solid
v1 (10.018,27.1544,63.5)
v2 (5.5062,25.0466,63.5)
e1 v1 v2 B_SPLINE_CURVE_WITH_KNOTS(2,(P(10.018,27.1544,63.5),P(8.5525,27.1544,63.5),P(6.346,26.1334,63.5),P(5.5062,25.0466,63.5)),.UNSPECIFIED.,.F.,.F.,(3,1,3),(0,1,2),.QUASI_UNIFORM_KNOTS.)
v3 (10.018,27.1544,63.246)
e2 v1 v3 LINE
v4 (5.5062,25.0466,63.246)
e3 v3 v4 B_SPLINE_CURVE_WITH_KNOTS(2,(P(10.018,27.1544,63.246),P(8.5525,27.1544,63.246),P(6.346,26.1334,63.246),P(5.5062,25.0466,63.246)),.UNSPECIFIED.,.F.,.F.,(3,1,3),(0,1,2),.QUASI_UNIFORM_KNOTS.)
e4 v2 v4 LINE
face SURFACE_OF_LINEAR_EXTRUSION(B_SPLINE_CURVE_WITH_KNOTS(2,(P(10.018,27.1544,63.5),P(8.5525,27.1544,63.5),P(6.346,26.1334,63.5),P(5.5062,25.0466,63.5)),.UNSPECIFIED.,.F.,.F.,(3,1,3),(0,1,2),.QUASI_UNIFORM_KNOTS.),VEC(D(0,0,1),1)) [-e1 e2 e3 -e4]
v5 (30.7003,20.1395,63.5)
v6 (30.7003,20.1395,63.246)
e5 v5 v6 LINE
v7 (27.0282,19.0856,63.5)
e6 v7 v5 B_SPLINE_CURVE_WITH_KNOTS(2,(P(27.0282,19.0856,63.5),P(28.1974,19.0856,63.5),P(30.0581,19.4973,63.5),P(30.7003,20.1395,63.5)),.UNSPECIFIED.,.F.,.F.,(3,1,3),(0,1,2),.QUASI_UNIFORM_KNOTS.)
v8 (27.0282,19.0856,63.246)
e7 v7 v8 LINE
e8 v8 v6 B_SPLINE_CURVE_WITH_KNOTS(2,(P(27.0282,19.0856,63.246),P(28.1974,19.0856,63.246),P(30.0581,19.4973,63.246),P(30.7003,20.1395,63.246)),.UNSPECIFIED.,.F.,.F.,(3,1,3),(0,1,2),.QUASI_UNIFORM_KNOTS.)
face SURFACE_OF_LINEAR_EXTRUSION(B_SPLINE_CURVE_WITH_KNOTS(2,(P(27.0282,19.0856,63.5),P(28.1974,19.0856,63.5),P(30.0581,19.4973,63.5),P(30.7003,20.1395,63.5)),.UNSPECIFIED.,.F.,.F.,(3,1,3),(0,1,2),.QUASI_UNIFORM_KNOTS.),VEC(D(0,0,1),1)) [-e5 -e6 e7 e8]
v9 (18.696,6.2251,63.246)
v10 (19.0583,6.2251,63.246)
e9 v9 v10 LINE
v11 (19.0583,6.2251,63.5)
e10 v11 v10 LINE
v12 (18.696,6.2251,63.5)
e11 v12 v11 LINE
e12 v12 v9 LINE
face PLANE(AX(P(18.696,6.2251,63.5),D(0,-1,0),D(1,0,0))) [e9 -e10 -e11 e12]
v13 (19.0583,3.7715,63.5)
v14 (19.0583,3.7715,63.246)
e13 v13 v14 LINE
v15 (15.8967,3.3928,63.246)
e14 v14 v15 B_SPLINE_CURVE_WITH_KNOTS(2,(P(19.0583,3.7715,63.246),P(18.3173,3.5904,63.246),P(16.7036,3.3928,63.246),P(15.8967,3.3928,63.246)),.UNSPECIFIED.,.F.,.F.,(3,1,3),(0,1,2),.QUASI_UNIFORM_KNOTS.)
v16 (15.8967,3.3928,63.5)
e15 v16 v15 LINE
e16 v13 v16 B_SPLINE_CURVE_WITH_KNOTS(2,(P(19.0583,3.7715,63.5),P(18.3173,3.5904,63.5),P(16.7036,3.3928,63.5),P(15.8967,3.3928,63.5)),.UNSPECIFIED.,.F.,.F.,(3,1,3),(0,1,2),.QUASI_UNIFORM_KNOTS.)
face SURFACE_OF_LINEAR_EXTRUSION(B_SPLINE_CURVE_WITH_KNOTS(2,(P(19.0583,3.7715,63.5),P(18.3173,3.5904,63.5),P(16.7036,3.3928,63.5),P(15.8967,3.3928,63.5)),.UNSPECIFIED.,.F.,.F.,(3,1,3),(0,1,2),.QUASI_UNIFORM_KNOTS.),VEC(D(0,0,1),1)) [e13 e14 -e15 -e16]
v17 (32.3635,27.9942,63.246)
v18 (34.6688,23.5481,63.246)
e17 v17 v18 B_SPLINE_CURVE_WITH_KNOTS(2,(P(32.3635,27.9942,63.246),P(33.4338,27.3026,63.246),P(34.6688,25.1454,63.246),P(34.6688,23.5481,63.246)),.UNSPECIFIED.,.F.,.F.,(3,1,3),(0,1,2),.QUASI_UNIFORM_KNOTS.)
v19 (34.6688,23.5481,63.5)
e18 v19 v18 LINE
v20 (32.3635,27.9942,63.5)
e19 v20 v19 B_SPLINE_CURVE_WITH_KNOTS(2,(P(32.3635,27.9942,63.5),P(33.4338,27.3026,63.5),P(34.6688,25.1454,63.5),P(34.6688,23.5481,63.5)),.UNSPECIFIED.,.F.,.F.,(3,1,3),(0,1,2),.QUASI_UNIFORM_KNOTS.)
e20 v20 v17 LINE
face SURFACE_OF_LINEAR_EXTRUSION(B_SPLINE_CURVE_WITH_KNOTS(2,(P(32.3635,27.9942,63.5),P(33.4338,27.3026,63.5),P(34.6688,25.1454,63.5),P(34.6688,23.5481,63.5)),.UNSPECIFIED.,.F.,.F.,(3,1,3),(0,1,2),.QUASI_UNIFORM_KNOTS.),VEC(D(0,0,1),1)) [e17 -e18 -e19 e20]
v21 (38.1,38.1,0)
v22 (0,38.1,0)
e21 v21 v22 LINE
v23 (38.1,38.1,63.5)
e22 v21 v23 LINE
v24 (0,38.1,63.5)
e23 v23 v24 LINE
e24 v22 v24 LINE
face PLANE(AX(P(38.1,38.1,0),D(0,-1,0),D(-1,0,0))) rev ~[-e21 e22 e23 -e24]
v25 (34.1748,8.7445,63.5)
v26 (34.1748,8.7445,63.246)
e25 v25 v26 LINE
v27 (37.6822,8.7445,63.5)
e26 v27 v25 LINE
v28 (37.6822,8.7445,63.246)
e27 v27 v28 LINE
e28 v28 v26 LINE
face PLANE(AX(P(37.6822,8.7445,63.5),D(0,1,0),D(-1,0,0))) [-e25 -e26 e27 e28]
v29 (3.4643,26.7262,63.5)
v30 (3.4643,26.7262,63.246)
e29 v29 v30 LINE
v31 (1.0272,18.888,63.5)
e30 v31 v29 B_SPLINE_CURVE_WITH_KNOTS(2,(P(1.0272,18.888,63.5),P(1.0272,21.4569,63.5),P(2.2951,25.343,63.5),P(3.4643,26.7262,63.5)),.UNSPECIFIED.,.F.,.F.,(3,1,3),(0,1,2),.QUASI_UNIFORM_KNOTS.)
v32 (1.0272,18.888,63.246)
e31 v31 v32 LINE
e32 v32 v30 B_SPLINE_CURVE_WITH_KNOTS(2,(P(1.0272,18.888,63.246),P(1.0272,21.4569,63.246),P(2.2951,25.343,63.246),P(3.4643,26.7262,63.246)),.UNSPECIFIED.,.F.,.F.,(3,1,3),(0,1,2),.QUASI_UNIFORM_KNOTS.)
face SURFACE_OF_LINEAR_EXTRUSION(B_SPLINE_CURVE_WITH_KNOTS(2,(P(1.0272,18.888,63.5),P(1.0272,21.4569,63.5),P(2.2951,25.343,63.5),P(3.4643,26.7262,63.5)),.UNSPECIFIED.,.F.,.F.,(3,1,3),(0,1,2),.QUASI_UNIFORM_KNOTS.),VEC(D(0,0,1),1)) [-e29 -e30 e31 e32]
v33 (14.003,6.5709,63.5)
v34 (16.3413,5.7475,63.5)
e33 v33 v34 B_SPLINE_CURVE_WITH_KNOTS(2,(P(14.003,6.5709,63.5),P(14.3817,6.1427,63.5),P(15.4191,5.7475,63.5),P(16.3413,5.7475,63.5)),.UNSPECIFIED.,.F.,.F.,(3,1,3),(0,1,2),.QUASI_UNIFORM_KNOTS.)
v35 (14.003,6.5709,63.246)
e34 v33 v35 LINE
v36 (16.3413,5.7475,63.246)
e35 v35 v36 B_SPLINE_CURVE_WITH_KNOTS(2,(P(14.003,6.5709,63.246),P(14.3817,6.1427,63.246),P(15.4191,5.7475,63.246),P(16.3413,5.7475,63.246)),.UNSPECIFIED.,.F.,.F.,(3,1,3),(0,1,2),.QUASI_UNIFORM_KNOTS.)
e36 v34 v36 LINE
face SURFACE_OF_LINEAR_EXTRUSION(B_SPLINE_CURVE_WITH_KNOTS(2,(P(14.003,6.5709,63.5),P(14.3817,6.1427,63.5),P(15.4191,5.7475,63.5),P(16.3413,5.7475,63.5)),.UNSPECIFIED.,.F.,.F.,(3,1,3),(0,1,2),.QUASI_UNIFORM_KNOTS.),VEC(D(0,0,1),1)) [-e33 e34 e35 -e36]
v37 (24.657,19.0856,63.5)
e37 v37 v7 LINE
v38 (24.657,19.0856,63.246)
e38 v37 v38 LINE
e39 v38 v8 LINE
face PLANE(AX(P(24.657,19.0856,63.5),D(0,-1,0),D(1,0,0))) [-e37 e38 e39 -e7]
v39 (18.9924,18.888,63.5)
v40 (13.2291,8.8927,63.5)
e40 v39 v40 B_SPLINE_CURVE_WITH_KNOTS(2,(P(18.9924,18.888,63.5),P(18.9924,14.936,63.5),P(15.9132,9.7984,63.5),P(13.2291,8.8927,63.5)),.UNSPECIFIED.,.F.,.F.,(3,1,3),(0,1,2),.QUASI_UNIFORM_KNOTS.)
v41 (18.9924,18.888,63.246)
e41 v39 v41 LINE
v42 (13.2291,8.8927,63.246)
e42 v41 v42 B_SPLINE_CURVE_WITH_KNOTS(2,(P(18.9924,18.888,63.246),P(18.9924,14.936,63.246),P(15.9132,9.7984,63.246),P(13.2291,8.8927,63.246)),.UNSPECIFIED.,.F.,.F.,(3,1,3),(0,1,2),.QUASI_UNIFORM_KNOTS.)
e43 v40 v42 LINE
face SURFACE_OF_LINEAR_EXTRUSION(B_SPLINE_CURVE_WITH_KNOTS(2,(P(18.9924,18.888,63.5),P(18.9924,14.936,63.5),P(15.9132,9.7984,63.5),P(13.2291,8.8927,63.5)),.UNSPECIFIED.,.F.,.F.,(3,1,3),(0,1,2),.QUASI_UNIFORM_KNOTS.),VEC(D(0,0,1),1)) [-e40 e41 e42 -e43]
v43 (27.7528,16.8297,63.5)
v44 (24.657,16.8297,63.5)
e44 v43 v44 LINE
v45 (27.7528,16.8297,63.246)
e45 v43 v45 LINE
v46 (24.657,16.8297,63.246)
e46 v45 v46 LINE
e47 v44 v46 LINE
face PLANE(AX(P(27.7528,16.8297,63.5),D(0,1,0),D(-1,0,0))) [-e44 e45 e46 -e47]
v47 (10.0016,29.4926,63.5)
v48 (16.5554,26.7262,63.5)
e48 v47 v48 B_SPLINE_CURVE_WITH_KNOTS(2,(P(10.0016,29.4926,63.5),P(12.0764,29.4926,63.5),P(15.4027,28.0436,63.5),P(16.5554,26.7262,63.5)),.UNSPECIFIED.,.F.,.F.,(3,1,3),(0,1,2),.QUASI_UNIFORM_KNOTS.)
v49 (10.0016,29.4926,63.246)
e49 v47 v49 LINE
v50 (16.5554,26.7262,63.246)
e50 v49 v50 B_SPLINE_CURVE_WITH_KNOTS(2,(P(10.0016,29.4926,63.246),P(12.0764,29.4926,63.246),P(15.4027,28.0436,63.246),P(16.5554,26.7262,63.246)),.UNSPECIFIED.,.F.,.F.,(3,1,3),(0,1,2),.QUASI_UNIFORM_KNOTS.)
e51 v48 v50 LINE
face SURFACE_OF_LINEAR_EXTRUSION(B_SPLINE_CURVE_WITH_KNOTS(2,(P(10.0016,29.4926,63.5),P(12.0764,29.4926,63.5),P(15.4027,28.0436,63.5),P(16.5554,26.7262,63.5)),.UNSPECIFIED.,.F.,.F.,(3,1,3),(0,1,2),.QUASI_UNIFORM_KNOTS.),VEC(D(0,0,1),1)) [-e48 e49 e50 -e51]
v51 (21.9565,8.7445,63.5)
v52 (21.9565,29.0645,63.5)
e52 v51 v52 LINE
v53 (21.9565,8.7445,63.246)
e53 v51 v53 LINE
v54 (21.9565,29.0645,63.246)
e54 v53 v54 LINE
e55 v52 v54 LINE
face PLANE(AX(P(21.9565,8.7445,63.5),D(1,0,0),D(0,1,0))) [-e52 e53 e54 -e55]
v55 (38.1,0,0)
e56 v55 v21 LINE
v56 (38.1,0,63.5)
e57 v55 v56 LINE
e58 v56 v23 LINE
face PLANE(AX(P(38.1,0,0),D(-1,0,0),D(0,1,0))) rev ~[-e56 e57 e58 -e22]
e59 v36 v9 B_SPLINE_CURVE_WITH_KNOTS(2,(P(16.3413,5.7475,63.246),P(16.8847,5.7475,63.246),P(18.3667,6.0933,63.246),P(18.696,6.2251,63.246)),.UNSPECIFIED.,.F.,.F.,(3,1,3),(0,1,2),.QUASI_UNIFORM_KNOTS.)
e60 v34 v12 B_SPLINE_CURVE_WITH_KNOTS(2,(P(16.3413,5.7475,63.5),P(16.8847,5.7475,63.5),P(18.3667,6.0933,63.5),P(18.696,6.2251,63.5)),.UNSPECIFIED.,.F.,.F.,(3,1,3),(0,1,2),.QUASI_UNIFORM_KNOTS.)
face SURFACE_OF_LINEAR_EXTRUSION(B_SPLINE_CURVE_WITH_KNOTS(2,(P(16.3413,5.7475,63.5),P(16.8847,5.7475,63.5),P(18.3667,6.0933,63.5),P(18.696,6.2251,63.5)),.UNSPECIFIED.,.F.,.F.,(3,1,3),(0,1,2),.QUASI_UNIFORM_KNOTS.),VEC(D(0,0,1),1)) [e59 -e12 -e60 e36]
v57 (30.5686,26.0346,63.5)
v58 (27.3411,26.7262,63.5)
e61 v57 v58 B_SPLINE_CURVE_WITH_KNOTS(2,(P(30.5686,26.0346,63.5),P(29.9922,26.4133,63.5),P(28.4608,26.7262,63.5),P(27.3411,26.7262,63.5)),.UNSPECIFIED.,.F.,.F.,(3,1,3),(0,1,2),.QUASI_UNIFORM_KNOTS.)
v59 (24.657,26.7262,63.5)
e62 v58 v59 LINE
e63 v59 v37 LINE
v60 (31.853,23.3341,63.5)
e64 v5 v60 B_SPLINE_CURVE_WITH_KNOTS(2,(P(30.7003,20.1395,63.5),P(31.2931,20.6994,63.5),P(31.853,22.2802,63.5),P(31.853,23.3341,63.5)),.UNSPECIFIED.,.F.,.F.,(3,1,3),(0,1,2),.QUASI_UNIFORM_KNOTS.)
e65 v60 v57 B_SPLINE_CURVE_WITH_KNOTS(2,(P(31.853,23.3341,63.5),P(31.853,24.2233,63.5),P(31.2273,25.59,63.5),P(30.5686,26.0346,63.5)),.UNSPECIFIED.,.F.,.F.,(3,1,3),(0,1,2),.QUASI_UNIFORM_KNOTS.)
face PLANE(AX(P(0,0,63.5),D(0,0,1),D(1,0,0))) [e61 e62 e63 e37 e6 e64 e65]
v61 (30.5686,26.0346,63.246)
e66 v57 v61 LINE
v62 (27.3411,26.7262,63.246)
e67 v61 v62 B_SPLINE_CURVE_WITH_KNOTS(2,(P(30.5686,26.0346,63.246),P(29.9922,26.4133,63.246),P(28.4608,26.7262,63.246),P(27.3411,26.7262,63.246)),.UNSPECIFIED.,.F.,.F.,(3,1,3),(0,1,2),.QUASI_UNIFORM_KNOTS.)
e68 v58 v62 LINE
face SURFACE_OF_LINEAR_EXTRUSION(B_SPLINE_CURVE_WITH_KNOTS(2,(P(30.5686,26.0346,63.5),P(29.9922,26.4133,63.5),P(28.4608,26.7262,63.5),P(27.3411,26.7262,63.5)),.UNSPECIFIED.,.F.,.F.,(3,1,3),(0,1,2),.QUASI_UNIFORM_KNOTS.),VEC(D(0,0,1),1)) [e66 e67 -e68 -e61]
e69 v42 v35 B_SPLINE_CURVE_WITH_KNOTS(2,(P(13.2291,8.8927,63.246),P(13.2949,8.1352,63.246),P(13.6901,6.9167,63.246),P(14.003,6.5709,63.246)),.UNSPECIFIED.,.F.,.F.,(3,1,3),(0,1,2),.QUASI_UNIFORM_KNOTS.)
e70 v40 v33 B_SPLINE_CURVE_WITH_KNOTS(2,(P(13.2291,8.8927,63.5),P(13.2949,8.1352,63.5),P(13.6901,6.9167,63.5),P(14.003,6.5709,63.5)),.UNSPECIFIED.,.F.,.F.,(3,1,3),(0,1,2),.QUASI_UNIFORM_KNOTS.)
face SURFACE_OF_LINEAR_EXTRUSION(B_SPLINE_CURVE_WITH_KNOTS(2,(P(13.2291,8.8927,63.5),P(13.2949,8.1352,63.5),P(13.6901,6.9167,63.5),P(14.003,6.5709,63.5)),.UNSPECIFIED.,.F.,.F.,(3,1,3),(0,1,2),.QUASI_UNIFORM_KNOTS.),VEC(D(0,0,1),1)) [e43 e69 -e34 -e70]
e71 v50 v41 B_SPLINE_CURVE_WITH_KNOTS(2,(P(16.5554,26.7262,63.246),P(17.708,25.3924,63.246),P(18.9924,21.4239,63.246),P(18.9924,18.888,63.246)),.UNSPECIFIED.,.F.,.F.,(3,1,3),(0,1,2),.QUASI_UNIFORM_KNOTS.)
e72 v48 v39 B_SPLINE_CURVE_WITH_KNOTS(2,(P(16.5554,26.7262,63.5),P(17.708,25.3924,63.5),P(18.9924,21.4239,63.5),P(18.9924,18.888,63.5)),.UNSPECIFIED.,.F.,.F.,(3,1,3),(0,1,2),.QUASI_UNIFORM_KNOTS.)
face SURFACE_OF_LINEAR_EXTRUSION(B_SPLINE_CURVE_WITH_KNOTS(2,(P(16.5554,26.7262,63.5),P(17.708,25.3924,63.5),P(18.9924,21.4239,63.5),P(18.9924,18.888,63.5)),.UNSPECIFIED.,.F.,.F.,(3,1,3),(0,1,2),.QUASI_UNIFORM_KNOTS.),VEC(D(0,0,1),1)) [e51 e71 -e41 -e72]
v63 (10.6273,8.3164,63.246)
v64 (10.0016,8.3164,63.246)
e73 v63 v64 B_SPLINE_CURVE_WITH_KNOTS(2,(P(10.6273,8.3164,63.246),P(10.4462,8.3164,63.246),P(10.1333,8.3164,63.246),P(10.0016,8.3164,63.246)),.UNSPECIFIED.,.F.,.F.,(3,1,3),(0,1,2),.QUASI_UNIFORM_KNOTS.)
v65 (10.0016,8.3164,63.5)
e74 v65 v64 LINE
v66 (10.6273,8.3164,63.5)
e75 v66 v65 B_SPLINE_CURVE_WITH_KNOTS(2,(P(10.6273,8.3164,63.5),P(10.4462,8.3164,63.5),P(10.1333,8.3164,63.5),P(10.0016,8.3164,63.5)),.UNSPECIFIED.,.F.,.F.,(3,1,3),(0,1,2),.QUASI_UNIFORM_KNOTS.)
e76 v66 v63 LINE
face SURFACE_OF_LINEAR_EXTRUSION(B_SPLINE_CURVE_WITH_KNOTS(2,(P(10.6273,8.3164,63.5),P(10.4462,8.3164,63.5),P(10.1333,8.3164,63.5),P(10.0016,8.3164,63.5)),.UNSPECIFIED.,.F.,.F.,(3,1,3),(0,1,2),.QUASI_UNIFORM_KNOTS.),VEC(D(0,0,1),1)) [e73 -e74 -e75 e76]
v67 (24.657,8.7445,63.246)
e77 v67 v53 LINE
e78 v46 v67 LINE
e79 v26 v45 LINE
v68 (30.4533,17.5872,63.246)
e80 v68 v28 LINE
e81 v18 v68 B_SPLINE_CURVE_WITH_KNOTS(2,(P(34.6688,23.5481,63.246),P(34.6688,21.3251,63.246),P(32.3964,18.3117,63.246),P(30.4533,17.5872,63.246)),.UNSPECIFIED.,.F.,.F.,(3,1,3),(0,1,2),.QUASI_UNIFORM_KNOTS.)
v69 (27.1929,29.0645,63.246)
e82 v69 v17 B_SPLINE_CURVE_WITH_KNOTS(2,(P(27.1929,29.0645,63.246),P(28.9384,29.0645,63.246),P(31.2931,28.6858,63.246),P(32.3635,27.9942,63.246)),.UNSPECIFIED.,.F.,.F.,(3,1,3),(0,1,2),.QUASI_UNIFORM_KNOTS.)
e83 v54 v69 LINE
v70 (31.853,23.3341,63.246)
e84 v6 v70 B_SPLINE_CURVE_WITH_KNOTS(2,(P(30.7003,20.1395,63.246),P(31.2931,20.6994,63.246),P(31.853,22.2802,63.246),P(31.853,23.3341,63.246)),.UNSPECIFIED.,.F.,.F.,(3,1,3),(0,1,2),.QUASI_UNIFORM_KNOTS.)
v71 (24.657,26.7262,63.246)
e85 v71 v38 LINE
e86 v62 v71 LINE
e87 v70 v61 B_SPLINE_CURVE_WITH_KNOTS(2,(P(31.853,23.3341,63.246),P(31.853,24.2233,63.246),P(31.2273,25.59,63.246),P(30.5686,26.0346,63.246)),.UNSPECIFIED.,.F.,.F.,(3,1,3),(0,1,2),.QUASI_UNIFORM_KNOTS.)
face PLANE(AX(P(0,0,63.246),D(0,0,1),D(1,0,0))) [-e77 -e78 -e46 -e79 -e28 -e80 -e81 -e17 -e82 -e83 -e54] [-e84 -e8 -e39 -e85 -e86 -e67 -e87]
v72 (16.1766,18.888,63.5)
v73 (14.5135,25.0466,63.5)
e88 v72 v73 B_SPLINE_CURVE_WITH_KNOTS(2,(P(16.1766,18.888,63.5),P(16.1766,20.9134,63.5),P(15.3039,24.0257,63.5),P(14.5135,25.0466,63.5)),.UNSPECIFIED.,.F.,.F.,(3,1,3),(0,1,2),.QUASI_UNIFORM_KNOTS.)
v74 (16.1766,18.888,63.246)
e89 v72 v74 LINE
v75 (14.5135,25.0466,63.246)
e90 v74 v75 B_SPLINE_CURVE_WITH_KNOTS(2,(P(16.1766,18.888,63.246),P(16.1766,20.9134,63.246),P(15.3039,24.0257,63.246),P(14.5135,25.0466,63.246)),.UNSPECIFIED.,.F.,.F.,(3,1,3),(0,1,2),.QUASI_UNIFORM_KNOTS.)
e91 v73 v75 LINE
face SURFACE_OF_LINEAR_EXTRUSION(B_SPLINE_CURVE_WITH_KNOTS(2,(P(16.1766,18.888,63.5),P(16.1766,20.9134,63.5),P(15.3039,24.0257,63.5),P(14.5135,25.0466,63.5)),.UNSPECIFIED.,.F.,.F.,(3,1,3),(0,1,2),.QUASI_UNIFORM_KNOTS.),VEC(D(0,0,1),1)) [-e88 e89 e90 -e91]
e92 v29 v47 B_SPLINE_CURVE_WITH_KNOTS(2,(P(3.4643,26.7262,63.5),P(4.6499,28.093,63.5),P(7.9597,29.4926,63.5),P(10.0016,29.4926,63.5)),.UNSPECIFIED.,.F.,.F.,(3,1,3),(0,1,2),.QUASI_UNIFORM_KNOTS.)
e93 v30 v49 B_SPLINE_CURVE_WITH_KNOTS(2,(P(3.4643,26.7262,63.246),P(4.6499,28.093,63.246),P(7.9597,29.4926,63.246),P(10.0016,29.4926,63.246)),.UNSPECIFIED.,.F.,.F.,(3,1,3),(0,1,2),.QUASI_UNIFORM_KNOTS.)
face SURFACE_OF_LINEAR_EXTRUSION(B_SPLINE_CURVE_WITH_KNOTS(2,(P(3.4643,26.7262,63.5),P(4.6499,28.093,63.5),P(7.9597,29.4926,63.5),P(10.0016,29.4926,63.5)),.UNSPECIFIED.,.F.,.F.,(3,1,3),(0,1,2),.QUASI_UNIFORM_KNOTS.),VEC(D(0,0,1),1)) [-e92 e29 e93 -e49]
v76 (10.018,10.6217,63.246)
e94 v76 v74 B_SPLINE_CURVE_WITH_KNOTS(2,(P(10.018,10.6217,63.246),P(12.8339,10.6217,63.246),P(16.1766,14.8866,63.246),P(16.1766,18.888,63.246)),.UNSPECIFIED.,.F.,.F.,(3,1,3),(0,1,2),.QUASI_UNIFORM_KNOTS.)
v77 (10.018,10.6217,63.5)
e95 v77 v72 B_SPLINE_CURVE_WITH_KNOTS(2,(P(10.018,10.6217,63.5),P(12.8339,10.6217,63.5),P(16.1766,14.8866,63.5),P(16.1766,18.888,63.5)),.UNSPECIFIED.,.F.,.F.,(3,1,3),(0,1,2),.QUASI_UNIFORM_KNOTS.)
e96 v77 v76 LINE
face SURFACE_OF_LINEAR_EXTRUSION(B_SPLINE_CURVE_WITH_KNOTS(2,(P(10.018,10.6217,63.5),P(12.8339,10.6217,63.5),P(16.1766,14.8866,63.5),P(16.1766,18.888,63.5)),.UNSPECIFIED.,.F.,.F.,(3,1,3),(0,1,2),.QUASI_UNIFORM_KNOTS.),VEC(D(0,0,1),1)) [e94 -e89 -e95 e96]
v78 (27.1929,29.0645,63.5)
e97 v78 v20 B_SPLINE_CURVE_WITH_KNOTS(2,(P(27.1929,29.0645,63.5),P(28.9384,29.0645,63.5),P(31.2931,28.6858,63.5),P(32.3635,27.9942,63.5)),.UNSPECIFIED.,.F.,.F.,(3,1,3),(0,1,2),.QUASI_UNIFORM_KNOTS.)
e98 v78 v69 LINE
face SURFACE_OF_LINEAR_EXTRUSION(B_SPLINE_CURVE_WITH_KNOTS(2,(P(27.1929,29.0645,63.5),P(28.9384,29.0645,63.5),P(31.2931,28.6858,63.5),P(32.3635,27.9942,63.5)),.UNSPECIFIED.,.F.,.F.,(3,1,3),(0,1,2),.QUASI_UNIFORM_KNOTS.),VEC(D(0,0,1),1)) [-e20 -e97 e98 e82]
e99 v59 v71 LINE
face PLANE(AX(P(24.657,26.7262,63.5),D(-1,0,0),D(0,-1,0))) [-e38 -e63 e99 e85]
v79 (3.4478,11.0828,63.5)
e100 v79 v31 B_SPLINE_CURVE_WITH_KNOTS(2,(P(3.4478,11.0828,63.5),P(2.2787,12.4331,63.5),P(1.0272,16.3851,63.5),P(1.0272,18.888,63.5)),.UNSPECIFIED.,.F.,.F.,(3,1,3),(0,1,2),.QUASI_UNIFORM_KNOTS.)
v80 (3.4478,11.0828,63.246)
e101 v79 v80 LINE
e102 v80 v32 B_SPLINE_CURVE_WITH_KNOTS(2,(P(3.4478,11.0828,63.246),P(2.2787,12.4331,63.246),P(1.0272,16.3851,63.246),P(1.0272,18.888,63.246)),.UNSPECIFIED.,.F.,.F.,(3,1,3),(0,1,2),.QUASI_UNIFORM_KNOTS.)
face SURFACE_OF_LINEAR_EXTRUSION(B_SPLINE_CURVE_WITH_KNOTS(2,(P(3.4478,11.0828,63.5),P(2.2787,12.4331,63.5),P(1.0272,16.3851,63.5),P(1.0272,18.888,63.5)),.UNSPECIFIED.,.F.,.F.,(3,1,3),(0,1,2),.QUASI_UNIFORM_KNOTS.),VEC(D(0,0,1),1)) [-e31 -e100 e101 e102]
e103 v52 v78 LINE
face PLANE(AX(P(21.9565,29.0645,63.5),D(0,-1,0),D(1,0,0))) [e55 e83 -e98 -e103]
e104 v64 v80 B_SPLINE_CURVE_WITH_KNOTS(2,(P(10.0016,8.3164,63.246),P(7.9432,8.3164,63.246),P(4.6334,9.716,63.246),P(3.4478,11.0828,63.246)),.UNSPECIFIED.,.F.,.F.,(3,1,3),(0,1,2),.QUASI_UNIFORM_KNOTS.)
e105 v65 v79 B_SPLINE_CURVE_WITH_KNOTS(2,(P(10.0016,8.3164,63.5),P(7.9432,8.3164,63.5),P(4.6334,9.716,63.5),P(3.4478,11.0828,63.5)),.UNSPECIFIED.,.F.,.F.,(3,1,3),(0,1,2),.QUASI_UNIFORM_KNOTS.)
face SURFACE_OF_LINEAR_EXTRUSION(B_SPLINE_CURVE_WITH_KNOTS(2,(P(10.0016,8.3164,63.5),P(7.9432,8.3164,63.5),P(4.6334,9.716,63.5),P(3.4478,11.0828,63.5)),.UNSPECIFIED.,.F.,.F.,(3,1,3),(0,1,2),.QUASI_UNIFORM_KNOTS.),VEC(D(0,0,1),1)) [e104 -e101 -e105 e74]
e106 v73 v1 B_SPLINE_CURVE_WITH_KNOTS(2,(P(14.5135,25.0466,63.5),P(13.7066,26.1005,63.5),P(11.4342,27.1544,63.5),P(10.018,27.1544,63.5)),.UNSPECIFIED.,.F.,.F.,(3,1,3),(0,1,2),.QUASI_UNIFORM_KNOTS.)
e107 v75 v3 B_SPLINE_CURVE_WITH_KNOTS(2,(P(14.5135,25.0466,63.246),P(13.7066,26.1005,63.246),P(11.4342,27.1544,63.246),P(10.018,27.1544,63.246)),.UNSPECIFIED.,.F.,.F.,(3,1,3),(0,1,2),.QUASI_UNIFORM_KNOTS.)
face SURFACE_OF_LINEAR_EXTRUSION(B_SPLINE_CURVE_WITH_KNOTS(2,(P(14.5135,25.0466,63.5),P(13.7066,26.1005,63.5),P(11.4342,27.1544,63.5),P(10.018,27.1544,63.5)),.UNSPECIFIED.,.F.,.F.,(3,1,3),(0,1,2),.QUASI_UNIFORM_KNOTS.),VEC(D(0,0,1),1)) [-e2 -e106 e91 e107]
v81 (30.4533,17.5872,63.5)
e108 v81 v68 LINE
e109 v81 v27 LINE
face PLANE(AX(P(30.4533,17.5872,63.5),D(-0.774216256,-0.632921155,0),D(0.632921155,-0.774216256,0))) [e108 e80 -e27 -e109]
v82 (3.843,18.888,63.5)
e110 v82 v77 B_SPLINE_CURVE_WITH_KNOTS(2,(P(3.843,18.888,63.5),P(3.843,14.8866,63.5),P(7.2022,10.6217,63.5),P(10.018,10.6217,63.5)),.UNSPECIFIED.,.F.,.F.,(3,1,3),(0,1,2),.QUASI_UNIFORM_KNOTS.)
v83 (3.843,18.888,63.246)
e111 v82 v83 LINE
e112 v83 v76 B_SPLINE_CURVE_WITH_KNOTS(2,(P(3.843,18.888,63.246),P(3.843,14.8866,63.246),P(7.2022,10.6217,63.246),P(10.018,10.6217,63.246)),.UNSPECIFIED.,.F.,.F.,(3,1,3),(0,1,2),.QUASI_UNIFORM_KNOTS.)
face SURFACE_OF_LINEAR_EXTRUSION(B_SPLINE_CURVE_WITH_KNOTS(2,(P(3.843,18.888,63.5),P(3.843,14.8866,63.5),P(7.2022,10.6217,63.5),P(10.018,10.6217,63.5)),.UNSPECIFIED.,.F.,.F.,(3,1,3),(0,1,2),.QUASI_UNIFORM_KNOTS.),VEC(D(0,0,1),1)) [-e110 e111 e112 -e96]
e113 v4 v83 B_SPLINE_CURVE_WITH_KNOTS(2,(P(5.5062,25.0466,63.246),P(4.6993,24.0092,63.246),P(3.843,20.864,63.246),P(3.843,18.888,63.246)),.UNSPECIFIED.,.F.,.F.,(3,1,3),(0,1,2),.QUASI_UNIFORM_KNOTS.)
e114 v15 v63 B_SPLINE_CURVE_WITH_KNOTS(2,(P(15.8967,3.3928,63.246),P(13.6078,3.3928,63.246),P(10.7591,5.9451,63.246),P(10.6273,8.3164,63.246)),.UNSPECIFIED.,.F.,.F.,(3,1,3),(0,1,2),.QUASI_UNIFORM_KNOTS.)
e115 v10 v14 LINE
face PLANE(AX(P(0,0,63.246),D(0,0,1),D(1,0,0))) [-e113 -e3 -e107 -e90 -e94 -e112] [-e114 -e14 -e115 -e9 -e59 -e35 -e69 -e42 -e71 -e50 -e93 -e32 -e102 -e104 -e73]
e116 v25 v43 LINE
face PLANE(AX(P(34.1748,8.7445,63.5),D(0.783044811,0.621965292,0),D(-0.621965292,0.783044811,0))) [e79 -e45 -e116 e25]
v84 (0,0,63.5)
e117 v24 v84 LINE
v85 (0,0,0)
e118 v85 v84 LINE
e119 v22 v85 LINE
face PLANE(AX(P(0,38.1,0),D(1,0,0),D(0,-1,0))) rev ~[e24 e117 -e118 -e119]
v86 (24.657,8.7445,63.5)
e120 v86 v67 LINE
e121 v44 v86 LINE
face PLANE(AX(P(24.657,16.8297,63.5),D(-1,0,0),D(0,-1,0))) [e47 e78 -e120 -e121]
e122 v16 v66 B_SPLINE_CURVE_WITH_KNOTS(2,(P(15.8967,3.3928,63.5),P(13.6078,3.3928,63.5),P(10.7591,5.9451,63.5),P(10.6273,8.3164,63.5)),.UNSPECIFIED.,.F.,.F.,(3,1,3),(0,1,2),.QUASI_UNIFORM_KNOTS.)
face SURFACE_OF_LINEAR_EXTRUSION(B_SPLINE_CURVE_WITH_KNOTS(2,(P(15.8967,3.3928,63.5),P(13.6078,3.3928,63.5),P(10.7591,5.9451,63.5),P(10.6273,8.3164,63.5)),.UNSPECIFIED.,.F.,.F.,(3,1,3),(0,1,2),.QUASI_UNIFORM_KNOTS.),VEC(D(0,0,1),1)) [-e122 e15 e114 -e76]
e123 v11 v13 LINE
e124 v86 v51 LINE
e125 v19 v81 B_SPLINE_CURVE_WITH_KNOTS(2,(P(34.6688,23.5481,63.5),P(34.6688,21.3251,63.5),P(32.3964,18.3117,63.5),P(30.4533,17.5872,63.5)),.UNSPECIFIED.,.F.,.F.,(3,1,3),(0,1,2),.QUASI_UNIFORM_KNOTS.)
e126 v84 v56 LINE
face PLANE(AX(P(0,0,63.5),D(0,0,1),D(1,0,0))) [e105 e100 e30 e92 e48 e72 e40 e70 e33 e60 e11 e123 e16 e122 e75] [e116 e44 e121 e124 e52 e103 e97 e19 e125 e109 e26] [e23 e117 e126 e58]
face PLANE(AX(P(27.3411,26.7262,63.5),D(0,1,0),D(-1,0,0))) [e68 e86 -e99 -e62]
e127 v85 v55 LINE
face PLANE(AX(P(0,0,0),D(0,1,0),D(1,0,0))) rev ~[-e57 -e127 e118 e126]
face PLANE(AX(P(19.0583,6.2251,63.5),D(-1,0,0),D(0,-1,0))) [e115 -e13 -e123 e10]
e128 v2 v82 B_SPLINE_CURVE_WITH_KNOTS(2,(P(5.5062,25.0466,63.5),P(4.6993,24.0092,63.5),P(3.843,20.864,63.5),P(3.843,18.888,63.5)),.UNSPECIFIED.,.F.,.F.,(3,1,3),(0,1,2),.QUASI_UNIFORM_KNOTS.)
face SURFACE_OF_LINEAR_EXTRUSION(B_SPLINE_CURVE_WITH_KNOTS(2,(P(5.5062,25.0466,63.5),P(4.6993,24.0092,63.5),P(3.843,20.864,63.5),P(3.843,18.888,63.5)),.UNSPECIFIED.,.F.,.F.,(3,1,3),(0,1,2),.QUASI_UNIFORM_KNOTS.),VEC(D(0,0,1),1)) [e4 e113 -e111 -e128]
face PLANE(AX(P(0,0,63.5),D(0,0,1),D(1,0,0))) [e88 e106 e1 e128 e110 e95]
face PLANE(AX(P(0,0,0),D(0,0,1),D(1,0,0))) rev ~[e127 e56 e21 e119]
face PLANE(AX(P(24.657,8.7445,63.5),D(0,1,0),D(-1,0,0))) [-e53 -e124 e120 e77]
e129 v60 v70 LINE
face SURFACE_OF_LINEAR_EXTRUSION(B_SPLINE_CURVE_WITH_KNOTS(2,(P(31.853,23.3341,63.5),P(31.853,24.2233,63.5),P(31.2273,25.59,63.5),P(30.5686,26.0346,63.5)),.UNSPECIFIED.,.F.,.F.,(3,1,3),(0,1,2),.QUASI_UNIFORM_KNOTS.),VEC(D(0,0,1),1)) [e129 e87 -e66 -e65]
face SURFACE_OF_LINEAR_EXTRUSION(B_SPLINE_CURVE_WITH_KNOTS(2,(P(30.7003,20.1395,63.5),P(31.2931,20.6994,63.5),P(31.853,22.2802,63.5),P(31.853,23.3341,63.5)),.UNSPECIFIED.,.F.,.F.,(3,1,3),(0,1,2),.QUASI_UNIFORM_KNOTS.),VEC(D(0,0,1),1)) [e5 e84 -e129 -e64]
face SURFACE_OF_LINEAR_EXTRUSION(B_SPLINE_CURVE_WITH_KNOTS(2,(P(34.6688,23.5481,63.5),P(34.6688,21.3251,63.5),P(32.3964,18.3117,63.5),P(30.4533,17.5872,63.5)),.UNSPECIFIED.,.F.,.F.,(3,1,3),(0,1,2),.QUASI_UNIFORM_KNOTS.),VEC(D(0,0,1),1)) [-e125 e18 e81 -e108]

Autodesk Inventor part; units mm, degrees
ref_plane "YZ Plane" through (0, 0, 0) normal (1, 0, 0) x (0, 1, 0)
ref_plane "XZ Plane" through (0, 0, 0) normal (0, 1, 0) x (-1, 0, 0)
ref_plane "XY Plane" through (0, 0, 0) normal (0, 0, 1) x (1, 0, 0)
sketch "Sketch1" plane through (0, 0, 0) normal (0, 0, 1) x (1, 0, 0)
  line L0 (0, 0) -> (38.1, 0)
  line L1 (38.1, 0) -> (38.1, 38.1)
  line L2 (38.1, 38.1) -> (0, 38.1)
  line L3 (0, 38.1) -> (0, 0)
  dimension "d0" = 38.1
  dimension "d1" = 38.1
extrude "Extrusion1" add sketch "Sketch1" along normal blind 63.5
sketch "Sketch2" plane through (0, 0, 63.5) normal (0, 0, 1) x (1, 0, 0)
  line L0 (0.1215, 29.4926) -> (23.3191, 29.4926) construction
  line L1 (23.3191, 29.4926) -> (23.3191, 13.1802) construction
  line L2 (23.3191, 13.1802) -> (0.1215, 13.1802) construction
  line L3 (0.1215, 13.1802) -> (0.1215, 29.4926) construction
  spline S0 degree 2 poles (19.0583, 3.7715) (18.3173, 3.5904) (16.7036, 3.3928) (15.8967, 3.3928) knots 0 0 0 1 2 2 2
  spline S1 degree 2 poles (15.8967, 3.3928) (13.6078, 3.3928) (10.7591, 5.9451) (10.6273, 8.3164) knots 0 0 0 1 2 2 2
  spline S2 degree 2 poles (10.6273, 8.3164) (10.4462, 8.3164) (10.1333, 8.3164) (10.0016, 8.3164) knots 0 0 0 1 2 2 2
  spline S3 degree 2 poles (10.0016, 8.3164) (7.9432, 8.3164) (4.6334, 9.716) (3.4478, 11.0828) knots 0 0 0 1 2 2 2
  spline S4 degree 2 poles (3.4478, 11.0828) (2.2787, 12.4331) (1.0272, 16.3851) (1.0272, 18.888) knots 0 0 0 1 2 2 2
  spline S5 degree 2 poles (1.0272, 18.888) (1.0272, 21.4569) (2.2951, 25.343) (3.4643, 26.7262) knots 0 0 0 1 2 2 2
  spline S6 degree 2 poles (3.4643, 26.7262) (4.6499, 28.093) (7.9597, 29.4926) (10.0016, 29.4926) knots 0 0 0 1 2 2 2
  spline S7 degree 2 poles (10.0016, 29.4926) (12.0764, 29.4926) (15.4027, 28.0436) (16.5554, 26.7262) knots 0 0 0 1 2 2 2
  spline S8 degree 2 poles (16.5554, 26.7262) (17.708, 25.3924) (18.9924, 21.4239) (18.9924, 18.888) knots 0 0 0 1 2 2 2
  spline S9 degree 2 poles (18.9924, 18.888) (18.9924, 14.936) (15.9132, 9.7984) (13.2291, 8.8927) knots 0 0 0 1 2 2 2
  spline S10 degree 2 poles (13.2291, 8.8927) (13.2949, 8.1352) (13.6901, 6.9167) (14.003, 6.5709) knots 0 0 0 1 2 2 2
  spline S11 degree 2 poles (14.003, 6.5709) (14.3817, 6.1427) (15.4191, 5.7475) (16.3413, 5.7475) knots 0 0 0 1 2 2 2
  spline S12 degree 2 poles (16.3413, 5.7475) (16.8847, 5.7475) (18.3667, 6.0933) (18.696, 6.2251) knots 0 0 0 1 2 2 2
  line L4 (18.696, 6.2251) -> (19.0583, 6.2251)
  line L5 (19.0583, 6.2251) -> (19.0583, 3.7715)
  spline S13 degree 2 poles (16.1766, 18.888) (16.1766, 20.9134) (15.3039, 24.0257) (14.5135, 25.0466) knots 0 0 0 1 2 2 2
  spline S14 degree 2 poles (14.5135, 25.0466) (13.7066, 26.1005) (11.4342, 27.1544) (10.018, 27.1544) knots 0 0 0 1 2 2 2
  spline S15 degree 2 poles (10.018, 27.1544) (8.5525, 27.1544) (6.346, 26.1334) (5.5062, 25.0466) knots 0 0 0 1 2 2 2
  spline S16 degree 2 poles (5.5062, 25.0466) (4.6993, 24.0092) (3.843, 20.864) (3.843, 18.888) knots 0 0 0 1 2 2 2
  spline S17 degree 2 poles (3.843, 18.888) (3.843, 14.8866) (7.2022, 10.6217) (10.018, 10.6217) knots 0 0 0 1 2 2 2
  spline S18 degree 2 poles (10.018, 10.6217) (12.8339, 10.6217) (16.1766, 14.8866) (16.1766, 18.888) knots 0 0 0 1 2 2 2
  line L6 (37.6822, 8.7445) -> (34.1748, 8.7445)
  line L7 (34.1748, 8.7445) -> (27.7528, 16.8297)
  line L8 (27.7528, 16.8297) -> (24.657, 16.8297)
  line L9 (24.657, 16.8297) -> (24.657, 8.7445)
  line L10 (24.657, 8.7445) -> (21.9565, 8.7445)
  line L11 (21.9565, 8.7445) -> (21.9565, 29.0645)
  line L12 (21.9565, 29.0645) -> (27.1929, 29.0645)
  spline S19 degree 2 poles (27.1929, 29.0645) (28.9384, 29.0645) (31.2931, 28.6858) (32.3635, 27.9942) knots 0 0 0 1 2 2 2
  spline S20 degree 2 poles (32.3635, 27.9942) (33.4338, 27.3026) (34.6688, 25.1454) (34.6688, 23.5481) knots 0 0 0 1 2 2 2
  spline S21 degree 2 poles (34.6688, 23.5481) (34.6688, 21.3251) (32.3964, 18.3117) (30.4533, 17.5872) knots 0 0 0 1 2 2 2
  line L13 (30.4533, 17.5872) -> (37.6822, 8.7445)
  spline S22 degree 2 poles (31.853, 23.3341) (31.853, 24.2233) (31.2273, 25.59) (30.5686, 26.0346) knots 0 0 0 1 2 2 2
  spline S23 degree 2 poles (30.5686, 26.0346) (29.9922, 26.4133) (28.4608, 26.7262) (27.3411, 26.7262) knots 0 0 0 1 2 2 2
  line L14 (27.3411, 26.7262) -> (24.657, 26.7262)
  line L15 (24.657, 26.7262) -> (24.657, 19.0856)
  line L16 (24.657, 19.0856) -> (27.0282, 19.0856)
  spline S24 degree 2 poles (27.0282, 19.0856) (28.1974, 19.0856) (30.0581, 19.4973) (30.7003, 20.1395) knots 0 0 0 1 2 2 2
  spline S25 degree 2 poles (30.7003, 20.1395) (31.2931, 20.6994) (31.853, 22.2802) (31.853, 23.3341) knots 0 0 0 1 2 2 2
  point P0 (0, 0)
extrude "Extrusion2" cut sketch "Sketch2" against normal blind 0.254
equation "\"d1\" = d0"
properties part number "Container 1 1 2 and half"
